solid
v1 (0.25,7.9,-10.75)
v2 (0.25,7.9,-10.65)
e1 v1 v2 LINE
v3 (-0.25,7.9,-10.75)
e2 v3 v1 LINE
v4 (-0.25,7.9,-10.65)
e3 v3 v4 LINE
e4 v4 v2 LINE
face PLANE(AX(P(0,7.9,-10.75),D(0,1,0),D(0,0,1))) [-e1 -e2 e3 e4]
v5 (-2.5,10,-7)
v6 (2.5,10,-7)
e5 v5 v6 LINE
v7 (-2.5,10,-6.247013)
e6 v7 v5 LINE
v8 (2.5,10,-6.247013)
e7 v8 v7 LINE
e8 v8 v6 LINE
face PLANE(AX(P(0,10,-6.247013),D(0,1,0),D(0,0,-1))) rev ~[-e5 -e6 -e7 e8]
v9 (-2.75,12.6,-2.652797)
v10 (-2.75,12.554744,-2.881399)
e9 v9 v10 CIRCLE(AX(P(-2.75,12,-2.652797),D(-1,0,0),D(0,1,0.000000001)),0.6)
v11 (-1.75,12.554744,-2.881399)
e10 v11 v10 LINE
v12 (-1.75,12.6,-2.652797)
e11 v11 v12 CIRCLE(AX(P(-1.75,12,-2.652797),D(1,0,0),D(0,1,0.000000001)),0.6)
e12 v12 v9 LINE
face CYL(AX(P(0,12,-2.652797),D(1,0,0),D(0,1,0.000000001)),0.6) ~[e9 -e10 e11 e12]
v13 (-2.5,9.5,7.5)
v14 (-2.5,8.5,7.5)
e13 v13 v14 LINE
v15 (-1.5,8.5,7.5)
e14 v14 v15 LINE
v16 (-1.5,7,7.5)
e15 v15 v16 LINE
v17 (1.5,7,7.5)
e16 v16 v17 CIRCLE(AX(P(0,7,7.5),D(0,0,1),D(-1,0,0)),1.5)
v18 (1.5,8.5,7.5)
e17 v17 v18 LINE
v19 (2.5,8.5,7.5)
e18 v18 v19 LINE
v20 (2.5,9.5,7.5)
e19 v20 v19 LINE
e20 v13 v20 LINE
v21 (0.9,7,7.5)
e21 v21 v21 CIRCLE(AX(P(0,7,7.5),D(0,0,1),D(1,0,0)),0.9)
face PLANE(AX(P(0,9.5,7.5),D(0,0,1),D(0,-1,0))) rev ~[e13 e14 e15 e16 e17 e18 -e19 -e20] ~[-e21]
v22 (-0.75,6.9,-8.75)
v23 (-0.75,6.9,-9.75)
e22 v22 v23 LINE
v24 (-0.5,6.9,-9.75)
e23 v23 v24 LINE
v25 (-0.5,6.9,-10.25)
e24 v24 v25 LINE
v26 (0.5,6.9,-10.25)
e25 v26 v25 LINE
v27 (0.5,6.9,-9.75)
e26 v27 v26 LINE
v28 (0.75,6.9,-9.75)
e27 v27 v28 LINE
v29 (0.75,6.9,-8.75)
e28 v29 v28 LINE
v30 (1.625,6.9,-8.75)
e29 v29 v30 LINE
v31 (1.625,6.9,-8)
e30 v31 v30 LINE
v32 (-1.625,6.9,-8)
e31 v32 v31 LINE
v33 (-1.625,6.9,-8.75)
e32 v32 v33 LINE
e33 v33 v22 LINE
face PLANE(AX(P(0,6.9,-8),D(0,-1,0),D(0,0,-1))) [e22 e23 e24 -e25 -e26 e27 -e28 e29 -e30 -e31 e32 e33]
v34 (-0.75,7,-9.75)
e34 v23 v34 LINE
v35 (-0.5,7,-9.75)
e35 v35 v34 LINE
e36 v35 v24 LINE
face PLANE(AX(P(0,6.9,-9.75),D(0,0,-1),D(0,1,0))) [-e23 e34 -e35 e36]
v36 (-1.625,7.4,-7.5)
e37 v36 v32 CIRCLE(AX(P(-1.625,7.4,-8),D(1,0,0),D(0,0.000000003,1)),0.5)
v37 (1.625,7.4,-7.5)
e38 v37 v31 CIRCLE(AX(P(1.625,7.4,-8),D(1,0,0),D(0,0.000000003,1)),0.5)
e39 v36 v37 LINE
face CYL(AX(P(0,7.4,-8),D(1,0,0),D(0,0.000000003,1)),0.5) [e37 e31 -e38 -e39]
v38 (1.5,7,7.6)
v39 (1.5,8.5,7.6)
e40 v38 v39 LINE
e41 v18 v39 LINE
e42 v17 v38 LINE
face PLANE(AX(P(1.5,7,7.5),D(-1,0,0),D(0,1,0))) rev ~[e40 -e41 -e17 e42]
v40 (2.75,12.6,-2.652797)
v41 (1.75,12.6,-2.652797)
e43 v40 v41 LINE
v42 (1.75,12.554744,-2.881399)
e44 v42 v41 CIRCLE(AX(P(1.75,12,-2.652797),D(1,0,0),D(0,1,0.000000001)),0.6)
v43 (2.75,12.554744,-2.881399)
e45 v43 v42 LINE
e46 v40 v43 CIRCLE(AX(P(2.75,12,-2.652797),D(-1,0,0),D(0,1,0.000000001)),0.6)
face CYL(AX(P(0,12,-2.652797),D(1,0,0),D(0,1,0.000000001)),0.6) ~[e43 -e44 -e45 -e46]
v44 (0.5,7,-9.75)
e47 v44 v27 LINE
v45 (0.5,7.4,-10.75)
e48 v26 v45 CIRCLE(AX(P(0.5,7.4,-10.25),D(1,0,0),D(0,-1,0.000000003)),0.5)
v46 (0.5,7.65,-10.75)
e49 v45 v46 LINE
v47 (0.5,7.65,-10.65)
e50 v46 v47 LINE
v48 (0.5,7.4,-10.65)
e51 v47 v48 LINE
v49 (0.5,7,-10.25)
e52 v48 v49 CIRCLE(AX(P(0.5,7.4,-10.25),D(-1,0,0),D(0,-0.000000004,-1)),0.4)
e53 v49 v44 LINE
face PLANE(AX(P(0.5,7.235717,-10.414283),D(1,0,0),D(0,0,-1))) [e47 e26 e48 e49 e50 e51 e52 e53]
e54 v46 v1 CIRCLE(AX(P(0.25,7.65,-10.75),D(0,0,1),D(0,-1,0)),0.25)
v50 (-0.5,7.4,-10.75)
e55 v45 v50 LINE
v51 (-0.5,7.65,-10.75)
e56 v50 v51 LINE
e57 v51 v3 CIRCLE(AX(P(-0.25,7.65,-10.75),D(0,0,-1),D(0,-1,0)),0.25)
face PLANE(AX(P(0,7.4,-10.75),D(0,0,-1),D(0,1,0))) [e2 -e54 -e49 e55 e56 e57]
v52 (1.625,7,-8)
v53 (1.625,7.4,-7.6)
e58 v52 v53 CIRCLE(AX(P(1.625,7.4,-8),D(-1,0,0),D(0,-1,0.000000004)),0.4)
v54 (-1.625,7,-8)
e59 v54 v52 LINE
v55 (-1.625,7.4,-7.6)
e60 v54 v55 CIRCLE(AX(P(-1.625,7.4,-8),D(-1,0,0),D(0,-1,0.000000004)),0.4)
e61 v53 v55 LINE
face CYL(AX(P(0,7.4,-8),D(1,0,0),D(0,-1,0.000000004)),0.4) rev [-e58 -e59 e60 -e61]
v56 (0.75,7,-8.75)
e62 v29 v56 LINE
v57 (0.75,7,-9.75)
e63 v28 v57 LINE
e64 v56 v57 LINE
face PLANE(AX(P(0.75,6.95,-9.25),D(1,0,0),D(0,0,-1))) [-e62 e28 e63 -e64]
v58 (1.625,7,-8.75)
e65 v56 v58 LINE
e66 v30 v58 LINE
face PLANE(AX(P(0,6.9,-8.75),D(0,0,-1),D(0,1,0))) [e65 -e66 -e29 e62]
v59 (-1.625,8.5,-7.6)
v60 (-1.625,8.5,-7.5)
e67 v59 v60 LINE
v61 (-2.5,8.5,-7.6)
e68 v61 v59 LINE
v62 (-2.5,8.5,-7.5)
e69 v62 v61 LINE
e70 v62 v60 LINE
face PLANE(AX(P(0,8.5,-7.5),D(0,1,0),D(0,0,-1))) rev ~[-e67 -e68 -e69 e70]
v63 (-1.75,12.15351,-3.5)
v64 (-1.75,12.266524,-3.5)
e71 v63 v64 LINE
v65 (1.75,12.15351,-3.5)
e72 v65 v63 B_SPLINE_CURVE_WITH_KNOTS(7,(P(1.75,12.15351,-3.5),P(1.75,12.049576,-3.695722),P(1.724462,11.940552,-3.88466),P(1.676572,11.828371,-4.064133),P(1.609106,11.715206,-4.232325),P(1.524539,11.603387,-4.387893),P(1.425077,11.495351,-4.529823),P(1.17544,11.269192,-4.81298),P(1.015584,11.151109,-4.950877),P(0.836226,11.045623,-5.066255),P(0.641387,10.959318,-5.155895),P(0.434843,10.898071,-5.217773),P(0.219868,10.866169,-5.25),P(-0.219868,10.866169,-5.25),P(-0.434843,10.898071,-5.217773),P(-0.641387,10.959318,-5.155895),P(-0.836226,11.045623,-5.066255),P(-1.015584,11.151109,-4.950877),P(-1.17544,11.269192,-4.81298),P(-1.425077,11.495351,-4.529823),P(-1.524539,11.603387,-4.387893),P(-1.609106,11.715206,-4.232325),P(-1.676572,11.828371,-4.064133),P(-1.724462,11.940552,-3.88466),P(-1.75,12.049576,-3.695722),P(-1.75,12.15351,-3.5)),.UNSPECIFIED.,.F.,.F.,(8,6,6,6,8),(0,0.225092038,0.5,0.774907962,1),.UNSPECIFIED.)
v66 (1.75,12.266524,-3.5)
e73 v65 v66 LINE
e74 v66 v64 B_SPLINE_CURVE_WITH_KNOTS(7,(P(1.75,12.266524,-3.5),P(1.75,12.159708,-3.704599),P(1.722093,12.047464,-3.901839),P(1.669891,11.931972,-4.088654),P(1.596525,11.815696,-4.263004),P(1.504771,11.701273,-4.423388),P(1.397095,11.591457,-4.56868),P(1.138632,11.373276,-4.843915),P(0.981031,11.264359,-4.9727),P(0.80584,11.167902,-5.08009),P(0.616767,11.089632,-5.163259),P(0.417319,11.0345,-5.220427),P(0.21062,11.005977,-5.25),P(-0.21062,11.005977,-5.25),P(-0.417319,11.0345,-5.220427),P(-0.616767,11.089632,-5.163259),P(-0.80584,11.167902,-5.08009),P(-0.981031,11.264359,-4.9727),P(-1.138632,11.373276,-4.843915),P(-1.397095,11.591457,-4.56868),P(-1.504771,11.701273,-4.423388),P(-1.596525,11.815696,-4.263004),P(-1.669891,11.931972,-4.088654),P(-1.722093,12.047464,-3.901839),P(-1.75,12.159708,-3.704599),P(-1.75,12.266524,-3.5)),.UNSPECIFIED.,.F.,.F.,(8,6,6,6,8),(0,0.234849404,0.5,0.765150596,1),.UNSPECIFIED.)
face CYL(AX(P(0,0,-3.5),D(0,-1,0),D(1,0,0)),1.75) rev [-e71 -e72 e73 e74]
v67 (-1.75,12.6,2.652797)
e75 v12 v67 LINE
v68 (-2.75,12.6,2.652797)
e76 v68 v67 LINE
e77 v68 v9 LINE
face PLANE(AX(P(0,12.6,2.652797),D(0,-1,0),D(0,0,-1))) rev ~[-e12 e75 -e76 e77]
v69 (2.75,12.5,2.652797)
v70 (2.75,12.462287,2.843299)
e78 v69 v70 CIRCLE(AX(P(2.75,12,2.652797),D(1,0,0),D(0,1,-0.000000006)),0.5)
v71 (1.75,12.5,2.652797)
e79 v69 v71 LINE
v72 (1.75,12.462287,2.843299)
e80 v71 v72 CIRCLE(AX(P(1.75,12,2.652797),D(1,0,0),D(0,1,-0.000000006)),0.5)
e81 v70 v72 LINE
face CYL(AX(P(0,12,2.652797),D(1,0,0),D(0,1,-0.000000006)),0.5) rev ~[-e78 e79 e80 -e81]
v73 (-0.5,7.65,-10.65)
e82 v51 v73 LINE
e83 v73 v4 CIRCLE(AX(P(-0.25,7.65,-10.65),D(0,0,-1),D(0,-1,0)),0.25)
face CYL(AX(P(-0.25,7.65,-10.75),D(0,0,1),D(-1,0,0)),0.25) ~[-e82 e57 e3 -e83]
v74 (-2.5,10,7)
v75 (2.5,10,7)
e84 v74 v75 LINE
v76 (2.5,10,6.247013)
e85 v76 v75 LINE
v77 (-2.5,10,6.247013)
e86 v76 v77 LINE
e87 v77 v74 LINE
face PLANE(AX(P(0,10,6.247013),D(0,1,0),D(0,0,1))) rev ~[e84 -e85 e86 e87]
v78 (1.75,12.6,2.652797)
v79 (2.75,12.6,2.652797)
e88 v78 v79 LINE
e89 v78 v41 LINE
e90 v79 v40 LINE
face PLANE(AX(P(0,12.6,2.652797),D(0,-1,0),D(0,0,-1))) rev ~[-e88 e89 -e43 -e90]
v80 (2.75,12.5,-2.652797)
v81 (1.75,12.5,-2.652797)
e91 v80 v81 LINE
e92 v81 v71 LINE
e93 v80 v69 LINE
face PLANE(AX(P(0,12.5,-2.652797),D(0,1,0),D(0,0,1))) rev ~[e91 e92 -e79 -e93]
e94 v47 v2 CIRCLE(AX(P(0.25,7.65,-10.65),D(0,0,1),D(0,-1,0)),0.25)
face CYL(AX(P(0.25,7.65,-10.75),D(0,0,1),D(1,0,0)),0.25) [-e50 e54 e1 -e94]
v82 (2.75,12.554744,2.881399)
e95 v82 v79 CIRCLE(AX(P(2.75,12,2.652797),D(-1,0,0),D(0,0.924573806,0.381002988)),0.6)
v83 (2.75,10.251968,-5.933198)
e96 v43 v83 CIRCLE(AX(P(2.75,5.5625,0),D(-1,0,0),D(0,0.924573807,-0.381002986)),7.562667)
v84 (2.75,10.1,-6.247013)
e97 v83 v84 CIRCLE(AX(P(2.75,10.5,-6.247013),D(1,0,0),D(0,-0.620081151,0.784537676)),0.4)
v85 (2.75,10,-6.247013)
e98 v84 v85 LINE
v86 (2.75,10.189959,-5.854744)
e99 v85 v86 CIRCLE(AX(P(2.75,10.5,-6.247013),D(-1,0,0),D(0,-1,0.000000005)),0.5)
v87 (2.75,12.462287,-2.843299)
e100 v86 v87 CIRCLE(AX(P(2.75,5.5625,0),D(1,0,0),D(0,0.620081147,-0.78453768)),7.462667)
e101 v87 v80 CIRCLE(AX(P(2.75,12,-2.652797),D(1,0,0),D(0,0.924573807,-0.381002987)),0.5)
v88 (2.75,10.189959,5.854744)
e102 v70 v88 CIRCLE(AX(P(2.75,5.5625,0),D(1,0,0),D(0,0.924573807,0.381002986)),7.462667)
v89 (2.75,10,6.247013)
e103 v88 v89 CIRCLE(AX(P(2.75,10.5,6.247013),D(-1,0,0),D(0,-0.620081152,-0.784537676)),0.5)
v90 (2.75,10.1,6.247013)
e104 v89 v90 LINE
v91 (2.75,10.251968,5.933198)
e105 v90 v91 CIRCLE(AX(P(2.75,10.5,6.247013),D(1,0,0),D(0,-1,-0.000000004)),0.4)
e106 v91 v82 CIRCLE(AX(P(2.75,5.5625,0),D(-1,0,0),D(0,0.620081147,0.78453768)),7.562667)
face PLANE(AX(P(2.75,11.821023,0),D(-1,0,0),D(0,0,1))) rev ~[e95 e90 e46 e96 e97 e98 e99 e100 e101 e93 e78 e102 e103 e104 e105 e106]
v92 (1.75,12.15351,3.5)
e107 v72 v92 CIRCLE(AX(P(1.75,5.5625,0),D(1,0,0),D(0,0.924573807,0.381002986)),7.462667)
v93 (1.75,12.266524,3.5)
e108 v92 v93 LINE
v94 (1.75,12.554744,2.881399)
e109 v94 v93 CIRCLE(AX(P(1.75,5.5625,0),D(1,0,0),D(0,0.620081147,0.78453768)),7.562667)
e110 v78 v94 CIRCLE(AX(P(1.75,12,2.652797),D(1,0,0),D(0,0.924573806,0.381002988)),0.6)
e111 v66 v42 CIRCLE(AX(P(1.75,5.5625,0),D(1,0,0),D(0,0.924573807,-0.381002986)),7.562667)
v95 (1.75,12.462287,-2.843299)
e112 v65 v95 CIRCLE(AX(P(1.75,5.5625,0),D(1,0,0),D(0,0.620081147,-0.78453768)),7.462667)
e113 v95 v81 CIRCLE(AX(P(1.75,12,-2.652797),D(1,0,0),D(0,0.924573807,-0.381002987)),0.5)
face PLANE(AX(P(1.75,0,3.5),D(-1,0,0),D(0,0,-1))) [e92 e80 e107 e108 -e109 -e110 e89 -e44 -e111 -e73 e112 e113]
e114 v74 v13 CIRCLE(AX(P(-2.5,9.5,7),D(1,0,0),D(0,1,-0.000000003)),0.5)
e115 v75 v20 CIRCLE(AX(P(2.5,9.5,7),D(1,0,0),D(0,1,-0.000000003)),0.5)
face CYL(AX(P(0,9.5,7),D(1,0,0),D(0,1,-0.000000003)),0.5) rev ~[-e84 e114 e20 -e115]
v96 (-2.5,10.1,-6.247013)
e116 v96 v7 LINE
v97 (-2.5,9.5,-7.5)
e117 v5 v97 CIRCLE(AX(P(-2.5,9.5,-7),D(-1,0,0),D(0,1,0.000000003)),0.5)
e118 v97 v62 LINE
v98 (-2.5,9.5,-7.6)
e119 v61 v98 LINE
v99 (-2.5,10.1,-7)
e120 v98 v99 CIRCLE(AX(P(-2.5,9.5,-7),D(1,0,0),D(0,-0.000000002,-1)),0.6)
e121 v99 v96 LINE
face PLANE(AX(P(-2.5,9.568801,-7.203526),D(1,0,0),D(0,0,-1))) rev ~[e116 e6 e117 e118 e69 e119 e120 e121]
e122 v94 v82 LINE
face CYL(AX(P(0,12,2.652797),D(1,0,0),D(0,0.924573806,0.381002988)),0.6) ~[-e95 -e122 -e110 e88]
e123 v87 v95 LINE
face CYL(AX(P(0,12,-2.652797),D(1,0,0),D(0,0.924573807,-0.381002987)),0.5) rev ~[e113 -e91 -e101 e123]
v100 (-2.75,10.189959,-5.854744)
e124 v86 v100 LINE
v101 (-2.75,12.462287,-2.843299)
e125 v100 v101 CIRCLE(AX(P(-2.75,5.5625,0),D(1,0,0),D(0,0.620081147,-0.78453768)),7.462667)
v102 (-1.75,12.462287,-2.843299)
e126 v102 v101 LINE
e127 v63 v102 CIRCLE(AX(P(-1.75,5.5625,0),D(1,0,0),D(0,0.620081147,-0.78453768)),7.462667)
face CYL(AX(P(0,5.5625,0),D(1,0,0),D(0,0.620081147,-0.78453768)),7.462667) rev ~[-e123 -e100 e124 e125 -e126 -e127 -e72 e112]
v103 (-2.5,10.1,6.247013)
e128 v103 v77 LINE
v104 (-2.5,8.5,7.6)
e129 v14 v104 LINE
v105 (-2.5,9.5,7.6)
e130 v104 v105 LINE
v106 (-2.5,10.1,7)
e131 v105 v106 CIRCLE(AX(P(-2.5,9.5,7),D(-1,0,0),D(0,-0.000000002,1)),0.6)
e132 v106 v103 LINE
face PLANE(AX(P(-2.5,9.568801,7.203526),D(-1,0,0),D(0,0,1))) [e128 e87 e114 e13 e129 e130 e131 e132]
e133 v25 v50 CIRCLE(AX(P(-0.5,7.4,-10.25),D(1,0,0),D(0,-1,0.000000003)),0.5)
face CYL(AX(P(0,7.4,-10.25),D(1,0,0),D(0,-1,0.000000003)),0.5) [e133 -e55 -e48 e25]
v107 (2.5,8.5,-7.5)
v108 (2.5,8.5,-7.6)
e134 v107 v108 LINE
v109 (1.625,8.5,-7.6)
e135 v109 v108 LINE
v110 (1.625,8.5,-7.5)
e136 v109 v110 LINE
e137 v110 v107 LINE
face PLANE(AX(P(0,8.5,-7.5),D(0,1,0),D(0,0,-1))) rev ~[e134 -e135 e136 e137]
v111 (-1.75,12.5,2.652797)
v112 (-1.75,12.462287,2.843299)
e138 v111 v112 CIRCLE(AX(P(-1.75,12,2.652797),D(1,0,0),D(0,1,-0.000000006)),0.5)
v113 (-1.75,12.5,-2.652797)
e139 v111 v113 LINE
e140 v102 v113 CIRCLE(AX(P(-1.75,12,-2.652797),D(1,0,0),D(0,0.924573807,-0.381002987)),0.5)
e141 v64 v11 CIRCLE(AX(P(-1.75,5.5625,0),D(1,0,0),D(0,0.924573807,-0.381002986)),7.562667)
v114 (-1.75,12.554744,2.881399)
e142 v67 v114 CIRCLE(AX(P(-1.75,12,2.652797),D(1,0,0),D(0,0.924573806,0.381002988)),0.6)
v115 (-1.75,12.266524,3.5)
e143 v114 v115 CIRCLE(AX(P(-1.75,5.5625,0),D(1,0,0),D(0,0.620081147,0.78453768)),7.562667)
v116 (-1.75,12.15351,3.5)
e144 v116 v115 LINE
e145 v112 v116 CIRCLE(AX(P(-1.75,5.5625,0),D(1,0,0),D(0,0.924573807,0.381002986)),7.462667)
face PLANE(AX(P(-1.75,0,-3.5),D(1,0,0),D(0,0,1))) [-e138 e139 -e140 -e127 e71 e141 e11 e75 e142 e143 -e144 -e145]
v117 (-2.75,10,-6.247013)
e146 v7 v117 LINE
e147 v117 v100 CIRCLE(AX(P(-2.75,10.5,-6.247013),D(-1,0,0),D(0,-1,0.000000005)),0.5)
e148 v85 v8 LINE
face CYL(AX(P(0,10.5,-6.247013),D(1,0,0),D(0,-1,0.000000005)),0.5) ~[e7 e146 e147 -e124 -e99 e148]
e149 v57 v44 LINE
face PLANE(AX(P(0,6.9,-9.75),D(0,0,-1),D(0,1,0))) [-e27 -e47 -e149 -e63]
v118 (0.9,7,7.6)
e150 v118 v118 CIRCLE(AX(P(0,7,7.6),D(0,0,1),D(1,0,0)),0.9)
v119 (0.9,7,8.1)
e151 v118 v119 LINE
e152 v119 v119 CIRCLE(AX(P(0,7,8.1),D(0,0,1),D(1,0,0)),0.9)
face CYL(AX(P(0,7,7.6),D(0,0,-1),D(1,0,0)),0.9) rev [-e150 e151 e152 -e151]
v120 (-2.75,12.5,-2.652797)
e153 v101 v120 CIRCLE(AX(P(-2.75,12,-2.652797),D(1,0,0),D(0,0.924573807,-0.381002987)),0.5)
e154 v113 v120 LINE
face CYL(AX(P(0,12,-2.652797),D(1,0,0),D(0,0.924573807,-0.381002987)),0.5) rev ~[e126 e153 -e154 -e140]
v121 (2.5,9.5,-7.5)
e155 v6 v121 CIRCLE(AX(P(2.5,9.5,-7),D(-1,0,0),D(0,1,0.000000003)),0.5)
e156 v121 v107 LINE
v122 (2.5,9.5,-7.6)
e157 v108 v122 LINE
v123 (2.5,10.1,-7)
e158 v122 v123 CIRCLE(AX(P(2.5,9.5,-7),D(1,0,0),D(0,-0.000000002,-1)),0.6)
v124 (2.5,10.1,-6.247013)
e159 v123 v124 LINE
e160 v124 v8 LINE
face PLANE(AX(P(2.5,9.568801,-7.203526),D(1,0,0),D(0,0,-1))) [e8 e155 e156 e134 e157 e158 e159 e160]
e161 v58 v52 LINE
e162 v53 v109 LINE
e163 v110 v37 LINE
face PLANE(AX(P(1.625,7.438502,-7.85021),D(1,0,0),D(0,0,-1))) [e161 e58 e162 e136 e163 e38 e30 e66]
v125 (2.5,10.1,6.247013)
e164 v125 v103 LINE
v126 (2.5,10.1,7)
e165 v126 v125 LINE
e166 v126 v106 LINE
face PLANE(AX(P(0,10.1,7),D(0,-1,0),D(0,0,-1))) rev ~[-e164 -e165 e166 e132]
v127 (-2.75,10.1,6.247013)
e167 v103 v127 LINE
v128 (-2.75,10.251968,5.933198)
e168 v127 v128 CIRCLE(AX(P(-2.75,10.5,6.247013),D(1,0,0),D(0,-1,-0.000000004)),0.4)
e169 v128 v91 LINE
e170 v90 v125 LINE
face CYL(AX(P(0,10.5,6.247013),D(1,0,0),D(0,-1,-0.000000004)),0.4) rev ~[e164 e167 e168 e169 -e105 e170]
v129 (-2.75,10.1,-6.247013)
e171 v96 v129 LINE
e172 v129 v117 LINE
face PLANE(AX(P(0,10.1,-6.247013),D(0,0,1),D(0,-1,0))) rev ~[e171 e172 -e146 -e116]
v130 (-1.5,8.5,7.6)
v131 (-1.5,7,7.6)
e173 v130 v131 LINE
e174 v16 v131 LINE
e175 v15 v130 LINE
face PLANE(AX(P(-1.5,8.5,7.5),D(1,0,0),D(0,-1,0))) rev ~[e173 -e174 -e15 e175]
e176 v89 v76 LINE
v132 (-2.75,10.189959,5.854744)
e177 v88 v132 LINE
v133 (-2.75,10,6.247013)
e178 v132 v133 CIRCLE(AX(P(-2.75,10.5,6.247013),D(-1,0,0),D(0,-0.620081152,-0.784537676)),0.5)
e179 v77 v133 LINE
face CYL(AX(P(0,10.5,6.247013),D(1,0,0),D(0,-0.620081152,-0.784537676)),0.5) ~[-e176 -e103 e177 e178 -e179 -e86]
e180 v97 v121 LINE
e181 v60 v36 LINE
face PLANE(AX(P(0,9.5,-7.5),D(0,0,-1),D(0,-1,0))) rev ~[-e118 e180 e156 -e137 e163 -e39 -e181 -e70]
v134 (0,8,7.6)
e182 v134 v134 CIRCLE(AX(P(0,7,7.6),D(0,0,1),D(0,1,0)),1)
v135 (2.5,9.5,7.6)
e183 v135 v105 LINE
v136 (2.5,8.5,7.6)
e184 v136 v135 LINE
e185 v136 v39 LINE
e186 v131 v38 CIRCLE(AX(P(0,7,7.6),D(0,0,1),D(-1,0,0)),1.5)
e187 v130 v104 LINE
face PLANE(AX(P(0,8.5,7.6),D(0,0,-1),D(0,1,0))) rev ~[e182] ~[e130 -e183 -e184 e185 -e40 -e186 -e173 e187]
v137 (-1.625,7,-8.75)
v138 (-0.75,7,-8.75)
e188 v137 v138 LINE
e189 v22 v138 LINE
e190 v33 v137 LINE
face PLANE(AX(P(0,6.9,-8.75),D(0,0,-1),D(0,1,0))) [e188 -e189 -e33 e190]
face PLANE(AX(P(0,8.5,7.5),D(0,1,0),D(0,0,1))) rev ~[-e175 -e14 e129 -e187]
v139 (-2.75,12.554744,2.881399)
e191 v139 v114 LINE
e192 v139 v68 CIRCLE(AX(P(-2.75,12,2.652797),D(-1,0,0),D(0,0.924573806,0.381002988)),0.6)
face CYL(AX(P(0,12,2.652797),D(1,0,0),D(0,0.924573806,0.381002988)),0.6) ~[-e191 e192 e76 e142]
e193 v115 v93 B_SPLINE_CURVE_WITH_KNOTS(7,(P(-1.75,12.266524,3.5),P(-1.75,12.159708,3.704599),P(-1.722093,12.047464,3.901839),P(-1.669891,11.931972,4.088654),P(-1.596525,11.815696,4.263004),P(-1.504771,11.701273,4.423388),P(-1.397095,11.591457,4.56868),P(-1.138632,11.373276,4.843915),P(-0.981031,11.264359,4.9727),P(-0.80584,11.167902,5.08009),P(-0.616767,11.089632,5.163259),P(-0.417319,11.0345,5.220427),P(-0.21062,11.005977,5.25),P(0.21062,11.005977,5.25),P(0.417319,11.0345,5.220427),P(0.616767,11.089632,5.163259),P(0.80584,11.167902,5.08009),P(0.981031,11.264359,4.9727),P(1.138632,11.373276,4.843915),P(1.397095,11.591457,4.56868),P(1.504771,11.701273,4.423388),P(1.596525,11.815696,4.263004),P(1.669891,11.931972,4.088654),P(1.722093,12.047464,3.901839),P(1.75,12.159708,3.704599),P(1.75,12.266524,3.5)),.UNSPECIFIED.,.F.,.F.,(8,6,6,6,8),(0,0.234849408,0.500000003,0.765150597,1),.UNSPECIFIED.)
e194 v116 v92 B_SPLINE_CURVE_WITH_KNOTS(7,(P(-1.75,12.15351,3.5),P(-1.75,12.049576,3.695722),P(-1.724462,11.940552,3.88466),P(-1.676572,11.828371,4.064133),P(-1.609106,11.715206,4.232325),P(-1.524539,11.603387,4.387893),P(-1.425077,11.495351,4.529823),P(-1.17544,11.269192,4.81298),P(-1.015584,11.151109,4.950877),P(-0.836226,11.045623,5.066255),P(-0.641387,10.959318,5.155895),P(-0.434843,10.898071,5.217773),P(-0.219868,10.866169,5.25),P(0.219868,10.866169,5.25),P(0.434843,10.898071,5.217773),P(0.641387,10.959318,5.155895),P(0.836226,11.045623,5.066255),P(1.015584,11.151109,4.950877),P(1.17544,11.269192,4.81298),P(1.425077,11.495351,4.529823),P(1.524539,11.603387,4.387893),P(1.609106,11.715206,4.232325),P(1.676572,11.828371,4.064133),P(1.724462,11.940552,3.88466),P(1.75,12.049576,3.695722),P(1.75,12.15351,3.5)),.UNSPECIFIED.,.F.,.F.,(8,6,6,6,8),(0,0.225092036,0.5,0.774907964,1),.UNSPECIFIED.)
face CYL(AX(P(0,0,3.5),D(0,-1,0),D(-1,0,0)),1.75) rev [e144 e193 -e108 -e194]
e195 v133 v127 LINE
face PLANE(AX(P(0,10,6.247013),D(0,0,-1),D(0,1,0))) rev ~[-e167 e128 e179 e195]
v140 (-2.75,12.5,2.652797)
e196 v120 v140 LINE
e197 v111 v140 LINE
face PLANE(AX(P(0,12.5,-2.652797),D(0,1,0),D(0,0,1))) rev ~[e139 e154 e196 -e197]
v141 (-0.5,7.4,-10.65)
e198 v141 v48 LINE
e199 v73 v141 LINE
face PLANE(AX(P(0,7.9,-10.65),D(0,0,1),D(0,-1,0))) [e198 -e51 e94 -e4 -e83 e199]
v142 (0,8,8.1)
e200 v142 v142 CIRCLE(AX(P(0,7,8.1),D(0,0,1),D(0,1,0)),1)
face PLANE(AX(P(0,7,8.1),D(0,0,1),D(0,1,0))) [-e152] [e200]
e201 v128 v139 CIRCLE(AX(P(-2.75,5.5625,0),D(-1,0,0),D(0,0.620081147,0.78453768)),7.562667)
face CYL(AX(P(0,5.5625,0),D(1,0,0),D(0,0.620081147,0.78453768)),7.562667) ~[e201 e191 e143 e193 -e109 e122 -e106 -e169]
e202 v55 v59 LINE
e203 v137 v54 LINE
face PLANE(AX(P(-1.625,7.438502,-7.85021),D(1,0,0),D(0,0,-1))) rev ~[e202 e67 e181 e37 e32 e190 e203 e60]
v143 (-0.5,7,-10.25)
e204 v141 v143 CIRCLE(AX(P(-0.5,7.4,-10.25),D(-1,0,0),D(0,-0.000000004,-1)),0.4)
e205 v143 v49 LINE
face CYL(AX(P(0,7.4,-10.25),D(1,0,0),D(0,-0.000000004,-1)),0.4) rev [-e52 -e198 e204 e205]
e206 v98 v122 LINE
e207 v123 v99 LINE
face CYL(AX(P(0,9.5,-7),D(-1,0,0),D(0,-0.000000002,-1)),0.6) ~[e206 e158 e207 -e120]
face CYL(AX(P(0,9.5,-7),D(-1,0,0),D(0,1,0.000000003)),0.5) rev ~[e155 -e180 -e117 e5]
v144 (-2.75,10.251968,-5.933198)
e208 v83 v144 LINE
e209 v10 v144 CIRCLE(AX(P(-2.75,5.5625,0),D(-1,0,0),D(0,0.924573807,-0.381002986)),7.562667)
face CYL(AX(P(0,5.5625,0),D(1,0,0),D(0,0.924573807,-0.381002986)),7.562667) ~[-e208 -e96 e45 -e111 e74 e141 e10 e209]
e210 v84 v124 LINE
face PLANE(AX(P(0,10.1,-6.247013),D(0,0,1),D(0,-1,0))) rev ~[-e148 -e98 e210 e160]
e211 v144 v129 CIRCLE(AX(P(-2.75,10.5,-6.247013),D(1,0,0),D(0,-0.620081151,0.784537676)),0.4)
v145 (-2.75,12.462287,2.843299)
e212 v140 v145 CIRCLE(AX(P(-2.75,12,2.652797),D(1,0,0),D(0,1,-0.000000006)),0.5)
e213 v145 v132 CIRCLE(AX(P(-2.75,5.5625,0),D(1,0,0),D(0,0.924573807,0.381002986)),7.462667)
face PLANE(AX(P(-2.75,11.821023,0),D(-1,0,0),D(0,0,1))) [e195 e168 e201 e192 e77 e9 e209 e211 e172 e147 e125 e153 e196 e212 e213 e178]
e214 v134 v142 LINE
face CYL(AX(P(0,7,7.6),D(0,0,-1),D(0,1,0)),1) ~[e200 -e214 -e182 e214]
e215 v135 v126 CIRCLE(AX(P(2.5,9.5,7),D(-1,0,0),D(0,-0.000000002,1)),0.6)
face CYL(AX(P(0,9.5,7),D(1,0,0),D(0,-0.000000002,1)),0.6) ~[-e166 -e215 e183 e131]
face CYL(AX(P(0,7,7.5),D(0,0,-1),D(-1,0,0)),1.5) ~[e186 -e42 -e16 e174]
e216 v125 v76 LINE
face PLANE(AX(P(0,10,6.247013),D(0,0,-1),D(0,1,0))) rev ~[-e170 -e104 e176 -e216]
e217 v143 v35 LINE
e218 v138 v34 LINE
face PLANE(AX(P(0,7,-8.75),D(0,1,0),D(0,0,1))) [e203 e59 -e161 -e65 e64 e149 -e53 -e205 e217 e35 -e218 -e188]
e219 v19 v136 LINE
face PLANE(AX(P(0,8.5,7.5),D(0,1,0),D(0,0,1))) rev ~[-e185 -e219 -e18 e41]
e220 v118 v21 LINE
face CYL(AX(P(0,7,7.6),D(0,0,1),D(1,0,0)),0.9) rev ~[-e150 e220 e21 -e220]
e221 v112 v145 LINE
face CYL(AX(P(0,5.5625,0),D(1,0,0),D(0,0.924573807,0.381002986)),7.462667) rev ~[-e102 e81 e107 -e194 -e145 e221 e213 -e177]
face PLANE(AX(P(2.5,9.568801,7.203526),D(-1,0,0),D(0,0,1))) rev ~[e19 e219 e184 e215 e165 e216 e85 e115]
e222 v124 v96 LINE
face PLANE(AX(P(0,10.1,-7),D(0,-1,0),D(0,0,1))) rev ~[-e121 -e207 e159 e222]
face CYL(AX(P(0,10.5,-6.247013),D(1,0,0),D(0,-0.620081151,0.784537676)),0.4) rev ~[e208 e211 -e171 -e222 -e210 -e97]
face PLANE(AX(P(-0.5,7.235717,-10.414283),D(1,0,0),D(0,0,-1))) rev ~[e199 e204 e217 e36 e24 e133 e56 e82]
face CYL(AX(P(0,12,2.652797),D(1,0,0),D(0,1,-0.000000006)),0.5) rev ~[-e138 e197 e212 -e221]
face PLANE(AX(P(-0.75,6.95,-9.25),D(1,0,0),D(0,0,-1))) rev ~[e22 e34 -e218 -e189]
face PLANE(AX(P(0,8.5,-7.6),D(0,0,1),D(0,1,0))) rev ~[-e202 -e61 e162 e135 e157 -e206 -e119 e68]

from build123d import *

# Parameters (mm, degrees)
EXTRUDE1_DEPTH     = 2.75
CUT_EXTRUDE1_DEPTH = 15.329956996
EXTRUDE2_DEPTH     = 2.5
EXTRUDE3_DEPTH     = 1.625
SKETCH8_W          = 1
SKETCH8_H          = 0.1
EXTRUDE4_DEPTH     = 0.75
EXTRUDE5_DEPTH     = 0.5
EXTRUDE6_DEPTH     = 0.1
SKETCH11_R         = 1
SKETCH11_R_2       = 0.9
EXTRUDE7_DEPTH     = 0.5
CUT_EXTRUDE2_REACH = 24.429
SKETCH12_R         = 0.9
FILLET1_R          = 0.25


with BuildPart() as part:
    # Sketch4 → Extrude1 (new, symmetric)
    with BuildSketch(Plane(origin=(0, 0, 0), x_dir=(0, 0, -1), z_dir=(1, 0, 0))):
        with BuildLine():
            Line((-2.652797108, 12.6), (2.652797108, 12.6))
            ThreePointArc((2.652797108, 12.6), (2.769316269, 12.58857734), (2.8813989, 12.554744284))
            ThreePointArc((2.8813989, 12.554744284), (4.555213838, 11.599383852), (5.933197614, 10.251967541))
            ThreePointArc((5.933197614, 10.251967541), (6.072675346, 10.139990984), (6.247012686, 10.1))
            Line((6.247012686, 10.1), (6.247012686, 10))
            ThreePointArc((6.247012686, 10), (6.029091011, 10.04998873), (5.854743846, 10.189959426))
            ThreePointArc((5.854743846, 10.189959426), (4.494980939, 11.519559057), (2.843298601, 12.462286904))
            ThreePointArc((2.843298601, 12.462286904), (2.749896409, 12.490481117), (2.652797108, 12.5))
            Line((2.652797108, 12.5), (-2.652797108, 12.5))
            ThreePointArc((-2.652797108, 12.5), (-2.749896409, 12.490481117), (-2.843298601, 12.462286904))
            ThreePointArc((-2.843298601, 12.462286904), (-4.494980939, 11.519559057), (-5.854743846, 10.189959426))
            ThreePointArc((-5.854743846, 10.189959426), (-6.029091011, 10.04998873), (-6.247012686, 10))
            Line((-6.247012686, 10), (-6.247012686, 10.1))
            ThreePointArc((-6.247012686, 10.1), (-6.072675346, 10.139990984), (-5.933197614, 10.251967541))
            ThreePointArc((-5.933197614, 10.251967541), (-4.555213838, 11.599383852), (-2.8813989, 12.554744284))
            ThreePointArc((-2.8813989, 12.554744284), (-2.769316269, 12.58857734), (-2.652797108, 12.6))
        make_face()
    extrude(amount=EXTRUDE1_DEPTH, both=True)

    # Sketch5 → Cut-Extrude1 (cut, through all)
    with BuildSketch(Plane(origin=(0, 0, 0), x_dir=(1, 0, 0), z_dir=(0, 1, 0))):
        with BuildLine():
            Line((1.75, -3.5), (1.75, 3.5))
            ThreePointArc((1.75, 3.5), (0, 5.25), (-1.75, 3.5))
            Line((-1.75, 3.5), (-1.75, -3.5))
            ThreePointArc((-1.75, -3.5), (0, -5.25), (1.75, -3.5))
        make_face()
    extrude(amount=CUT_EXTRUDE1_DEPTH, mode=Mode.SUBTRACT)

    # Sketch6 → Extrude2 (add, symmetric)
    with BuildSketch(Plane(origin=(0, 0, 0), x_dir=(0, 0, -1), z_dir=(1, 0, 0))):
        with BuildLine():
            Line((6.247012686, 10), (7, 10))
            ThreePointArc((7, 10), (7.353553391, 9.853553391), (7.5, 9.5))
            Line((7.5, 9.5), (7.5, 8.5))
            Line((7.5, 8.5), (7.6, 8.5))
            Line((7.6, 8.5), (7.6, 9.5))
            ThreePointArc((7.6, 9.5), (7.424264069, 9.924264069), (7, 10.1))
            Line((7, 10.1), (6.247012686, 10.1))
            Line((6.247012686, 10.1), (6.247012686, 10))
        make_face()
        with BuildLine():
            Line((-7.5, 8.5), (-7.6, 8.5))
            Line((-7.6, 8.5), (-7.6, 9.5))
            ThreePointArc((-7.6, 9.5), (-7.424264069, 9.924264069), (-7, 10.1))
            Line((-7, 10.1), (-6.247012686, 10.1))
            Line((-6.247012686, 10.1), (-6.247012686, 10))
            Line((-6.247012686, 10), (-7, 10))
            ThreePointArc((-7, 10), (-7.353553391, 9.853553391), (-7.5, 9.5))
            Line((-7.5, 9.5), (-7.5, 8.5))
        make_face()
    extrude(amount=EXTRUDE2_DEPTH, both=True)

    # Sketch7 → Extrude3 (add, symmetric)
    with BuildSketch(Plane(origin=(0, 0, 0), x_dir=(0, 0, -1), z_dir=(1, 0, 0))):
        with BuildLine():
            Line((7.5, 8.5), (7.5, 7.4))
            ThreePointArc((7.5, 7.4), (7.646446609, 7.046446609), (8, 6.9))
            Line((8, 6.9), (8.75, 6.9))
            Line((8.75, 6.9), (8.75, 7))
            Line((8.75, 7), (8, 7))
            ThreePointArc((8, 7), (7.717157288, 7.117157288), (7.6, 7.4))
            Line((7.6, 7.4), (7.6, 8.5))
            Line((7.6, 8.5), (7.5, 8.5))
        make_face()
    extrude(amount=EXTRUDE3_DEPTH, both=True)

    # Sketch8 → Extrude4 (add, symmetric)
    with BuildSketch(Plane(origin=(0, 0, 0), x_dir=(0, 0, -1), z_dir=(1, 0, 0))):
        with Locations((9.25, 6.95)):
            Rectangle(SKETCH8_W, SKETCH8_H)
    extrude(amount=EXTRUDE4_DEPTH, both=True)

    # Sketch9 → Extrude5 (add, symmetric)
    with BuildSketch(Plane(origin=(0, 0, 0), x_dir=(0, 0, -1), z_dir=(1, 0, 0))):
        with BuildLine():
            Line((10.75, 7.4), (10.75, 7.9))
            Line((10.75, 7.9), (10.65, 7.9))
            Line((10.65, 7.9), (10.65, 7.4))
            ThreePointArc((10.65, 7.4), (10.532842712, 7.117157288), (10.25, 7))
            Line((10.25, 7), (9.75, 7))
            Line((9.75, 7), (9.75, 6.9))
            Line((9.75, 6.9), (10.25, 6.9))
            ThreePointArc((10.25, 6.9), (10.603553391, 7.046446609), (10.75, 7.4))
        make_face()
    extrude(amount=EXTRUDE5_DEPTH, both=True)

    # Sketch10 → Extrude6 (add)
    with BuildSketch(Plane.XY.offset(7.5)):
        with BuildLine():
            Line((-1.5, 8.5), (-1.5, 7))
            ThreePointArc((-1.5, 7), (0, 5.5), (1.5, 7))
            Line((1.5, 7), (1.5, 8.5))
            Line((1.5, 8.5), (-1.5, 8.5))
        make_face()
    extrude(amount=EXTRUDE6_DEPTH)

    # Sketch11 → Extrude7 (add)
    with BuildSketch(Plane.XY.offset(7.6)):
        with Locations(Location((0, 7, 0), (0, 0, 90))):
            Circle(SKETCH11_R)
        with Locations((0, 7)):
            Circle(SKETCH11_R_2, mode=Mode.SUBTRACT)
    extrude(amount=EXTRUDE7_DEPTH)

    # Sketch12 → Cut-Extrude2 (cut, up to next)
    with BuildSketch(Plane.XY.offset(7.6), mode=Mode.PRIVATE) as cut_extrude2_sk1:
        with Locations((0, 7)):
            Circle(SKETCH12_R)
    cut_extrude2_tool1 = extrude(cut_extrude2_sk1.sketch, amount=-CUT_EXTRUDE2_REACH, mode=Mode.PRIVATE) & part.part
    add(cut_extrude2_tool1.solids().sort_by_distance((0, 7, 7.6))[0], mode=Mode.SUBTRACT)

    # Fillet1
    fillet1_edges = [part.edges().sort_by_distance(p)[0] for p in [
        (-0.5, 7.9, -10.7),
        (0.5, 7.9, -10.7),
    ]]
    fillet(fillet1_edges, radius=FILLET1_R)


solid = part.part
